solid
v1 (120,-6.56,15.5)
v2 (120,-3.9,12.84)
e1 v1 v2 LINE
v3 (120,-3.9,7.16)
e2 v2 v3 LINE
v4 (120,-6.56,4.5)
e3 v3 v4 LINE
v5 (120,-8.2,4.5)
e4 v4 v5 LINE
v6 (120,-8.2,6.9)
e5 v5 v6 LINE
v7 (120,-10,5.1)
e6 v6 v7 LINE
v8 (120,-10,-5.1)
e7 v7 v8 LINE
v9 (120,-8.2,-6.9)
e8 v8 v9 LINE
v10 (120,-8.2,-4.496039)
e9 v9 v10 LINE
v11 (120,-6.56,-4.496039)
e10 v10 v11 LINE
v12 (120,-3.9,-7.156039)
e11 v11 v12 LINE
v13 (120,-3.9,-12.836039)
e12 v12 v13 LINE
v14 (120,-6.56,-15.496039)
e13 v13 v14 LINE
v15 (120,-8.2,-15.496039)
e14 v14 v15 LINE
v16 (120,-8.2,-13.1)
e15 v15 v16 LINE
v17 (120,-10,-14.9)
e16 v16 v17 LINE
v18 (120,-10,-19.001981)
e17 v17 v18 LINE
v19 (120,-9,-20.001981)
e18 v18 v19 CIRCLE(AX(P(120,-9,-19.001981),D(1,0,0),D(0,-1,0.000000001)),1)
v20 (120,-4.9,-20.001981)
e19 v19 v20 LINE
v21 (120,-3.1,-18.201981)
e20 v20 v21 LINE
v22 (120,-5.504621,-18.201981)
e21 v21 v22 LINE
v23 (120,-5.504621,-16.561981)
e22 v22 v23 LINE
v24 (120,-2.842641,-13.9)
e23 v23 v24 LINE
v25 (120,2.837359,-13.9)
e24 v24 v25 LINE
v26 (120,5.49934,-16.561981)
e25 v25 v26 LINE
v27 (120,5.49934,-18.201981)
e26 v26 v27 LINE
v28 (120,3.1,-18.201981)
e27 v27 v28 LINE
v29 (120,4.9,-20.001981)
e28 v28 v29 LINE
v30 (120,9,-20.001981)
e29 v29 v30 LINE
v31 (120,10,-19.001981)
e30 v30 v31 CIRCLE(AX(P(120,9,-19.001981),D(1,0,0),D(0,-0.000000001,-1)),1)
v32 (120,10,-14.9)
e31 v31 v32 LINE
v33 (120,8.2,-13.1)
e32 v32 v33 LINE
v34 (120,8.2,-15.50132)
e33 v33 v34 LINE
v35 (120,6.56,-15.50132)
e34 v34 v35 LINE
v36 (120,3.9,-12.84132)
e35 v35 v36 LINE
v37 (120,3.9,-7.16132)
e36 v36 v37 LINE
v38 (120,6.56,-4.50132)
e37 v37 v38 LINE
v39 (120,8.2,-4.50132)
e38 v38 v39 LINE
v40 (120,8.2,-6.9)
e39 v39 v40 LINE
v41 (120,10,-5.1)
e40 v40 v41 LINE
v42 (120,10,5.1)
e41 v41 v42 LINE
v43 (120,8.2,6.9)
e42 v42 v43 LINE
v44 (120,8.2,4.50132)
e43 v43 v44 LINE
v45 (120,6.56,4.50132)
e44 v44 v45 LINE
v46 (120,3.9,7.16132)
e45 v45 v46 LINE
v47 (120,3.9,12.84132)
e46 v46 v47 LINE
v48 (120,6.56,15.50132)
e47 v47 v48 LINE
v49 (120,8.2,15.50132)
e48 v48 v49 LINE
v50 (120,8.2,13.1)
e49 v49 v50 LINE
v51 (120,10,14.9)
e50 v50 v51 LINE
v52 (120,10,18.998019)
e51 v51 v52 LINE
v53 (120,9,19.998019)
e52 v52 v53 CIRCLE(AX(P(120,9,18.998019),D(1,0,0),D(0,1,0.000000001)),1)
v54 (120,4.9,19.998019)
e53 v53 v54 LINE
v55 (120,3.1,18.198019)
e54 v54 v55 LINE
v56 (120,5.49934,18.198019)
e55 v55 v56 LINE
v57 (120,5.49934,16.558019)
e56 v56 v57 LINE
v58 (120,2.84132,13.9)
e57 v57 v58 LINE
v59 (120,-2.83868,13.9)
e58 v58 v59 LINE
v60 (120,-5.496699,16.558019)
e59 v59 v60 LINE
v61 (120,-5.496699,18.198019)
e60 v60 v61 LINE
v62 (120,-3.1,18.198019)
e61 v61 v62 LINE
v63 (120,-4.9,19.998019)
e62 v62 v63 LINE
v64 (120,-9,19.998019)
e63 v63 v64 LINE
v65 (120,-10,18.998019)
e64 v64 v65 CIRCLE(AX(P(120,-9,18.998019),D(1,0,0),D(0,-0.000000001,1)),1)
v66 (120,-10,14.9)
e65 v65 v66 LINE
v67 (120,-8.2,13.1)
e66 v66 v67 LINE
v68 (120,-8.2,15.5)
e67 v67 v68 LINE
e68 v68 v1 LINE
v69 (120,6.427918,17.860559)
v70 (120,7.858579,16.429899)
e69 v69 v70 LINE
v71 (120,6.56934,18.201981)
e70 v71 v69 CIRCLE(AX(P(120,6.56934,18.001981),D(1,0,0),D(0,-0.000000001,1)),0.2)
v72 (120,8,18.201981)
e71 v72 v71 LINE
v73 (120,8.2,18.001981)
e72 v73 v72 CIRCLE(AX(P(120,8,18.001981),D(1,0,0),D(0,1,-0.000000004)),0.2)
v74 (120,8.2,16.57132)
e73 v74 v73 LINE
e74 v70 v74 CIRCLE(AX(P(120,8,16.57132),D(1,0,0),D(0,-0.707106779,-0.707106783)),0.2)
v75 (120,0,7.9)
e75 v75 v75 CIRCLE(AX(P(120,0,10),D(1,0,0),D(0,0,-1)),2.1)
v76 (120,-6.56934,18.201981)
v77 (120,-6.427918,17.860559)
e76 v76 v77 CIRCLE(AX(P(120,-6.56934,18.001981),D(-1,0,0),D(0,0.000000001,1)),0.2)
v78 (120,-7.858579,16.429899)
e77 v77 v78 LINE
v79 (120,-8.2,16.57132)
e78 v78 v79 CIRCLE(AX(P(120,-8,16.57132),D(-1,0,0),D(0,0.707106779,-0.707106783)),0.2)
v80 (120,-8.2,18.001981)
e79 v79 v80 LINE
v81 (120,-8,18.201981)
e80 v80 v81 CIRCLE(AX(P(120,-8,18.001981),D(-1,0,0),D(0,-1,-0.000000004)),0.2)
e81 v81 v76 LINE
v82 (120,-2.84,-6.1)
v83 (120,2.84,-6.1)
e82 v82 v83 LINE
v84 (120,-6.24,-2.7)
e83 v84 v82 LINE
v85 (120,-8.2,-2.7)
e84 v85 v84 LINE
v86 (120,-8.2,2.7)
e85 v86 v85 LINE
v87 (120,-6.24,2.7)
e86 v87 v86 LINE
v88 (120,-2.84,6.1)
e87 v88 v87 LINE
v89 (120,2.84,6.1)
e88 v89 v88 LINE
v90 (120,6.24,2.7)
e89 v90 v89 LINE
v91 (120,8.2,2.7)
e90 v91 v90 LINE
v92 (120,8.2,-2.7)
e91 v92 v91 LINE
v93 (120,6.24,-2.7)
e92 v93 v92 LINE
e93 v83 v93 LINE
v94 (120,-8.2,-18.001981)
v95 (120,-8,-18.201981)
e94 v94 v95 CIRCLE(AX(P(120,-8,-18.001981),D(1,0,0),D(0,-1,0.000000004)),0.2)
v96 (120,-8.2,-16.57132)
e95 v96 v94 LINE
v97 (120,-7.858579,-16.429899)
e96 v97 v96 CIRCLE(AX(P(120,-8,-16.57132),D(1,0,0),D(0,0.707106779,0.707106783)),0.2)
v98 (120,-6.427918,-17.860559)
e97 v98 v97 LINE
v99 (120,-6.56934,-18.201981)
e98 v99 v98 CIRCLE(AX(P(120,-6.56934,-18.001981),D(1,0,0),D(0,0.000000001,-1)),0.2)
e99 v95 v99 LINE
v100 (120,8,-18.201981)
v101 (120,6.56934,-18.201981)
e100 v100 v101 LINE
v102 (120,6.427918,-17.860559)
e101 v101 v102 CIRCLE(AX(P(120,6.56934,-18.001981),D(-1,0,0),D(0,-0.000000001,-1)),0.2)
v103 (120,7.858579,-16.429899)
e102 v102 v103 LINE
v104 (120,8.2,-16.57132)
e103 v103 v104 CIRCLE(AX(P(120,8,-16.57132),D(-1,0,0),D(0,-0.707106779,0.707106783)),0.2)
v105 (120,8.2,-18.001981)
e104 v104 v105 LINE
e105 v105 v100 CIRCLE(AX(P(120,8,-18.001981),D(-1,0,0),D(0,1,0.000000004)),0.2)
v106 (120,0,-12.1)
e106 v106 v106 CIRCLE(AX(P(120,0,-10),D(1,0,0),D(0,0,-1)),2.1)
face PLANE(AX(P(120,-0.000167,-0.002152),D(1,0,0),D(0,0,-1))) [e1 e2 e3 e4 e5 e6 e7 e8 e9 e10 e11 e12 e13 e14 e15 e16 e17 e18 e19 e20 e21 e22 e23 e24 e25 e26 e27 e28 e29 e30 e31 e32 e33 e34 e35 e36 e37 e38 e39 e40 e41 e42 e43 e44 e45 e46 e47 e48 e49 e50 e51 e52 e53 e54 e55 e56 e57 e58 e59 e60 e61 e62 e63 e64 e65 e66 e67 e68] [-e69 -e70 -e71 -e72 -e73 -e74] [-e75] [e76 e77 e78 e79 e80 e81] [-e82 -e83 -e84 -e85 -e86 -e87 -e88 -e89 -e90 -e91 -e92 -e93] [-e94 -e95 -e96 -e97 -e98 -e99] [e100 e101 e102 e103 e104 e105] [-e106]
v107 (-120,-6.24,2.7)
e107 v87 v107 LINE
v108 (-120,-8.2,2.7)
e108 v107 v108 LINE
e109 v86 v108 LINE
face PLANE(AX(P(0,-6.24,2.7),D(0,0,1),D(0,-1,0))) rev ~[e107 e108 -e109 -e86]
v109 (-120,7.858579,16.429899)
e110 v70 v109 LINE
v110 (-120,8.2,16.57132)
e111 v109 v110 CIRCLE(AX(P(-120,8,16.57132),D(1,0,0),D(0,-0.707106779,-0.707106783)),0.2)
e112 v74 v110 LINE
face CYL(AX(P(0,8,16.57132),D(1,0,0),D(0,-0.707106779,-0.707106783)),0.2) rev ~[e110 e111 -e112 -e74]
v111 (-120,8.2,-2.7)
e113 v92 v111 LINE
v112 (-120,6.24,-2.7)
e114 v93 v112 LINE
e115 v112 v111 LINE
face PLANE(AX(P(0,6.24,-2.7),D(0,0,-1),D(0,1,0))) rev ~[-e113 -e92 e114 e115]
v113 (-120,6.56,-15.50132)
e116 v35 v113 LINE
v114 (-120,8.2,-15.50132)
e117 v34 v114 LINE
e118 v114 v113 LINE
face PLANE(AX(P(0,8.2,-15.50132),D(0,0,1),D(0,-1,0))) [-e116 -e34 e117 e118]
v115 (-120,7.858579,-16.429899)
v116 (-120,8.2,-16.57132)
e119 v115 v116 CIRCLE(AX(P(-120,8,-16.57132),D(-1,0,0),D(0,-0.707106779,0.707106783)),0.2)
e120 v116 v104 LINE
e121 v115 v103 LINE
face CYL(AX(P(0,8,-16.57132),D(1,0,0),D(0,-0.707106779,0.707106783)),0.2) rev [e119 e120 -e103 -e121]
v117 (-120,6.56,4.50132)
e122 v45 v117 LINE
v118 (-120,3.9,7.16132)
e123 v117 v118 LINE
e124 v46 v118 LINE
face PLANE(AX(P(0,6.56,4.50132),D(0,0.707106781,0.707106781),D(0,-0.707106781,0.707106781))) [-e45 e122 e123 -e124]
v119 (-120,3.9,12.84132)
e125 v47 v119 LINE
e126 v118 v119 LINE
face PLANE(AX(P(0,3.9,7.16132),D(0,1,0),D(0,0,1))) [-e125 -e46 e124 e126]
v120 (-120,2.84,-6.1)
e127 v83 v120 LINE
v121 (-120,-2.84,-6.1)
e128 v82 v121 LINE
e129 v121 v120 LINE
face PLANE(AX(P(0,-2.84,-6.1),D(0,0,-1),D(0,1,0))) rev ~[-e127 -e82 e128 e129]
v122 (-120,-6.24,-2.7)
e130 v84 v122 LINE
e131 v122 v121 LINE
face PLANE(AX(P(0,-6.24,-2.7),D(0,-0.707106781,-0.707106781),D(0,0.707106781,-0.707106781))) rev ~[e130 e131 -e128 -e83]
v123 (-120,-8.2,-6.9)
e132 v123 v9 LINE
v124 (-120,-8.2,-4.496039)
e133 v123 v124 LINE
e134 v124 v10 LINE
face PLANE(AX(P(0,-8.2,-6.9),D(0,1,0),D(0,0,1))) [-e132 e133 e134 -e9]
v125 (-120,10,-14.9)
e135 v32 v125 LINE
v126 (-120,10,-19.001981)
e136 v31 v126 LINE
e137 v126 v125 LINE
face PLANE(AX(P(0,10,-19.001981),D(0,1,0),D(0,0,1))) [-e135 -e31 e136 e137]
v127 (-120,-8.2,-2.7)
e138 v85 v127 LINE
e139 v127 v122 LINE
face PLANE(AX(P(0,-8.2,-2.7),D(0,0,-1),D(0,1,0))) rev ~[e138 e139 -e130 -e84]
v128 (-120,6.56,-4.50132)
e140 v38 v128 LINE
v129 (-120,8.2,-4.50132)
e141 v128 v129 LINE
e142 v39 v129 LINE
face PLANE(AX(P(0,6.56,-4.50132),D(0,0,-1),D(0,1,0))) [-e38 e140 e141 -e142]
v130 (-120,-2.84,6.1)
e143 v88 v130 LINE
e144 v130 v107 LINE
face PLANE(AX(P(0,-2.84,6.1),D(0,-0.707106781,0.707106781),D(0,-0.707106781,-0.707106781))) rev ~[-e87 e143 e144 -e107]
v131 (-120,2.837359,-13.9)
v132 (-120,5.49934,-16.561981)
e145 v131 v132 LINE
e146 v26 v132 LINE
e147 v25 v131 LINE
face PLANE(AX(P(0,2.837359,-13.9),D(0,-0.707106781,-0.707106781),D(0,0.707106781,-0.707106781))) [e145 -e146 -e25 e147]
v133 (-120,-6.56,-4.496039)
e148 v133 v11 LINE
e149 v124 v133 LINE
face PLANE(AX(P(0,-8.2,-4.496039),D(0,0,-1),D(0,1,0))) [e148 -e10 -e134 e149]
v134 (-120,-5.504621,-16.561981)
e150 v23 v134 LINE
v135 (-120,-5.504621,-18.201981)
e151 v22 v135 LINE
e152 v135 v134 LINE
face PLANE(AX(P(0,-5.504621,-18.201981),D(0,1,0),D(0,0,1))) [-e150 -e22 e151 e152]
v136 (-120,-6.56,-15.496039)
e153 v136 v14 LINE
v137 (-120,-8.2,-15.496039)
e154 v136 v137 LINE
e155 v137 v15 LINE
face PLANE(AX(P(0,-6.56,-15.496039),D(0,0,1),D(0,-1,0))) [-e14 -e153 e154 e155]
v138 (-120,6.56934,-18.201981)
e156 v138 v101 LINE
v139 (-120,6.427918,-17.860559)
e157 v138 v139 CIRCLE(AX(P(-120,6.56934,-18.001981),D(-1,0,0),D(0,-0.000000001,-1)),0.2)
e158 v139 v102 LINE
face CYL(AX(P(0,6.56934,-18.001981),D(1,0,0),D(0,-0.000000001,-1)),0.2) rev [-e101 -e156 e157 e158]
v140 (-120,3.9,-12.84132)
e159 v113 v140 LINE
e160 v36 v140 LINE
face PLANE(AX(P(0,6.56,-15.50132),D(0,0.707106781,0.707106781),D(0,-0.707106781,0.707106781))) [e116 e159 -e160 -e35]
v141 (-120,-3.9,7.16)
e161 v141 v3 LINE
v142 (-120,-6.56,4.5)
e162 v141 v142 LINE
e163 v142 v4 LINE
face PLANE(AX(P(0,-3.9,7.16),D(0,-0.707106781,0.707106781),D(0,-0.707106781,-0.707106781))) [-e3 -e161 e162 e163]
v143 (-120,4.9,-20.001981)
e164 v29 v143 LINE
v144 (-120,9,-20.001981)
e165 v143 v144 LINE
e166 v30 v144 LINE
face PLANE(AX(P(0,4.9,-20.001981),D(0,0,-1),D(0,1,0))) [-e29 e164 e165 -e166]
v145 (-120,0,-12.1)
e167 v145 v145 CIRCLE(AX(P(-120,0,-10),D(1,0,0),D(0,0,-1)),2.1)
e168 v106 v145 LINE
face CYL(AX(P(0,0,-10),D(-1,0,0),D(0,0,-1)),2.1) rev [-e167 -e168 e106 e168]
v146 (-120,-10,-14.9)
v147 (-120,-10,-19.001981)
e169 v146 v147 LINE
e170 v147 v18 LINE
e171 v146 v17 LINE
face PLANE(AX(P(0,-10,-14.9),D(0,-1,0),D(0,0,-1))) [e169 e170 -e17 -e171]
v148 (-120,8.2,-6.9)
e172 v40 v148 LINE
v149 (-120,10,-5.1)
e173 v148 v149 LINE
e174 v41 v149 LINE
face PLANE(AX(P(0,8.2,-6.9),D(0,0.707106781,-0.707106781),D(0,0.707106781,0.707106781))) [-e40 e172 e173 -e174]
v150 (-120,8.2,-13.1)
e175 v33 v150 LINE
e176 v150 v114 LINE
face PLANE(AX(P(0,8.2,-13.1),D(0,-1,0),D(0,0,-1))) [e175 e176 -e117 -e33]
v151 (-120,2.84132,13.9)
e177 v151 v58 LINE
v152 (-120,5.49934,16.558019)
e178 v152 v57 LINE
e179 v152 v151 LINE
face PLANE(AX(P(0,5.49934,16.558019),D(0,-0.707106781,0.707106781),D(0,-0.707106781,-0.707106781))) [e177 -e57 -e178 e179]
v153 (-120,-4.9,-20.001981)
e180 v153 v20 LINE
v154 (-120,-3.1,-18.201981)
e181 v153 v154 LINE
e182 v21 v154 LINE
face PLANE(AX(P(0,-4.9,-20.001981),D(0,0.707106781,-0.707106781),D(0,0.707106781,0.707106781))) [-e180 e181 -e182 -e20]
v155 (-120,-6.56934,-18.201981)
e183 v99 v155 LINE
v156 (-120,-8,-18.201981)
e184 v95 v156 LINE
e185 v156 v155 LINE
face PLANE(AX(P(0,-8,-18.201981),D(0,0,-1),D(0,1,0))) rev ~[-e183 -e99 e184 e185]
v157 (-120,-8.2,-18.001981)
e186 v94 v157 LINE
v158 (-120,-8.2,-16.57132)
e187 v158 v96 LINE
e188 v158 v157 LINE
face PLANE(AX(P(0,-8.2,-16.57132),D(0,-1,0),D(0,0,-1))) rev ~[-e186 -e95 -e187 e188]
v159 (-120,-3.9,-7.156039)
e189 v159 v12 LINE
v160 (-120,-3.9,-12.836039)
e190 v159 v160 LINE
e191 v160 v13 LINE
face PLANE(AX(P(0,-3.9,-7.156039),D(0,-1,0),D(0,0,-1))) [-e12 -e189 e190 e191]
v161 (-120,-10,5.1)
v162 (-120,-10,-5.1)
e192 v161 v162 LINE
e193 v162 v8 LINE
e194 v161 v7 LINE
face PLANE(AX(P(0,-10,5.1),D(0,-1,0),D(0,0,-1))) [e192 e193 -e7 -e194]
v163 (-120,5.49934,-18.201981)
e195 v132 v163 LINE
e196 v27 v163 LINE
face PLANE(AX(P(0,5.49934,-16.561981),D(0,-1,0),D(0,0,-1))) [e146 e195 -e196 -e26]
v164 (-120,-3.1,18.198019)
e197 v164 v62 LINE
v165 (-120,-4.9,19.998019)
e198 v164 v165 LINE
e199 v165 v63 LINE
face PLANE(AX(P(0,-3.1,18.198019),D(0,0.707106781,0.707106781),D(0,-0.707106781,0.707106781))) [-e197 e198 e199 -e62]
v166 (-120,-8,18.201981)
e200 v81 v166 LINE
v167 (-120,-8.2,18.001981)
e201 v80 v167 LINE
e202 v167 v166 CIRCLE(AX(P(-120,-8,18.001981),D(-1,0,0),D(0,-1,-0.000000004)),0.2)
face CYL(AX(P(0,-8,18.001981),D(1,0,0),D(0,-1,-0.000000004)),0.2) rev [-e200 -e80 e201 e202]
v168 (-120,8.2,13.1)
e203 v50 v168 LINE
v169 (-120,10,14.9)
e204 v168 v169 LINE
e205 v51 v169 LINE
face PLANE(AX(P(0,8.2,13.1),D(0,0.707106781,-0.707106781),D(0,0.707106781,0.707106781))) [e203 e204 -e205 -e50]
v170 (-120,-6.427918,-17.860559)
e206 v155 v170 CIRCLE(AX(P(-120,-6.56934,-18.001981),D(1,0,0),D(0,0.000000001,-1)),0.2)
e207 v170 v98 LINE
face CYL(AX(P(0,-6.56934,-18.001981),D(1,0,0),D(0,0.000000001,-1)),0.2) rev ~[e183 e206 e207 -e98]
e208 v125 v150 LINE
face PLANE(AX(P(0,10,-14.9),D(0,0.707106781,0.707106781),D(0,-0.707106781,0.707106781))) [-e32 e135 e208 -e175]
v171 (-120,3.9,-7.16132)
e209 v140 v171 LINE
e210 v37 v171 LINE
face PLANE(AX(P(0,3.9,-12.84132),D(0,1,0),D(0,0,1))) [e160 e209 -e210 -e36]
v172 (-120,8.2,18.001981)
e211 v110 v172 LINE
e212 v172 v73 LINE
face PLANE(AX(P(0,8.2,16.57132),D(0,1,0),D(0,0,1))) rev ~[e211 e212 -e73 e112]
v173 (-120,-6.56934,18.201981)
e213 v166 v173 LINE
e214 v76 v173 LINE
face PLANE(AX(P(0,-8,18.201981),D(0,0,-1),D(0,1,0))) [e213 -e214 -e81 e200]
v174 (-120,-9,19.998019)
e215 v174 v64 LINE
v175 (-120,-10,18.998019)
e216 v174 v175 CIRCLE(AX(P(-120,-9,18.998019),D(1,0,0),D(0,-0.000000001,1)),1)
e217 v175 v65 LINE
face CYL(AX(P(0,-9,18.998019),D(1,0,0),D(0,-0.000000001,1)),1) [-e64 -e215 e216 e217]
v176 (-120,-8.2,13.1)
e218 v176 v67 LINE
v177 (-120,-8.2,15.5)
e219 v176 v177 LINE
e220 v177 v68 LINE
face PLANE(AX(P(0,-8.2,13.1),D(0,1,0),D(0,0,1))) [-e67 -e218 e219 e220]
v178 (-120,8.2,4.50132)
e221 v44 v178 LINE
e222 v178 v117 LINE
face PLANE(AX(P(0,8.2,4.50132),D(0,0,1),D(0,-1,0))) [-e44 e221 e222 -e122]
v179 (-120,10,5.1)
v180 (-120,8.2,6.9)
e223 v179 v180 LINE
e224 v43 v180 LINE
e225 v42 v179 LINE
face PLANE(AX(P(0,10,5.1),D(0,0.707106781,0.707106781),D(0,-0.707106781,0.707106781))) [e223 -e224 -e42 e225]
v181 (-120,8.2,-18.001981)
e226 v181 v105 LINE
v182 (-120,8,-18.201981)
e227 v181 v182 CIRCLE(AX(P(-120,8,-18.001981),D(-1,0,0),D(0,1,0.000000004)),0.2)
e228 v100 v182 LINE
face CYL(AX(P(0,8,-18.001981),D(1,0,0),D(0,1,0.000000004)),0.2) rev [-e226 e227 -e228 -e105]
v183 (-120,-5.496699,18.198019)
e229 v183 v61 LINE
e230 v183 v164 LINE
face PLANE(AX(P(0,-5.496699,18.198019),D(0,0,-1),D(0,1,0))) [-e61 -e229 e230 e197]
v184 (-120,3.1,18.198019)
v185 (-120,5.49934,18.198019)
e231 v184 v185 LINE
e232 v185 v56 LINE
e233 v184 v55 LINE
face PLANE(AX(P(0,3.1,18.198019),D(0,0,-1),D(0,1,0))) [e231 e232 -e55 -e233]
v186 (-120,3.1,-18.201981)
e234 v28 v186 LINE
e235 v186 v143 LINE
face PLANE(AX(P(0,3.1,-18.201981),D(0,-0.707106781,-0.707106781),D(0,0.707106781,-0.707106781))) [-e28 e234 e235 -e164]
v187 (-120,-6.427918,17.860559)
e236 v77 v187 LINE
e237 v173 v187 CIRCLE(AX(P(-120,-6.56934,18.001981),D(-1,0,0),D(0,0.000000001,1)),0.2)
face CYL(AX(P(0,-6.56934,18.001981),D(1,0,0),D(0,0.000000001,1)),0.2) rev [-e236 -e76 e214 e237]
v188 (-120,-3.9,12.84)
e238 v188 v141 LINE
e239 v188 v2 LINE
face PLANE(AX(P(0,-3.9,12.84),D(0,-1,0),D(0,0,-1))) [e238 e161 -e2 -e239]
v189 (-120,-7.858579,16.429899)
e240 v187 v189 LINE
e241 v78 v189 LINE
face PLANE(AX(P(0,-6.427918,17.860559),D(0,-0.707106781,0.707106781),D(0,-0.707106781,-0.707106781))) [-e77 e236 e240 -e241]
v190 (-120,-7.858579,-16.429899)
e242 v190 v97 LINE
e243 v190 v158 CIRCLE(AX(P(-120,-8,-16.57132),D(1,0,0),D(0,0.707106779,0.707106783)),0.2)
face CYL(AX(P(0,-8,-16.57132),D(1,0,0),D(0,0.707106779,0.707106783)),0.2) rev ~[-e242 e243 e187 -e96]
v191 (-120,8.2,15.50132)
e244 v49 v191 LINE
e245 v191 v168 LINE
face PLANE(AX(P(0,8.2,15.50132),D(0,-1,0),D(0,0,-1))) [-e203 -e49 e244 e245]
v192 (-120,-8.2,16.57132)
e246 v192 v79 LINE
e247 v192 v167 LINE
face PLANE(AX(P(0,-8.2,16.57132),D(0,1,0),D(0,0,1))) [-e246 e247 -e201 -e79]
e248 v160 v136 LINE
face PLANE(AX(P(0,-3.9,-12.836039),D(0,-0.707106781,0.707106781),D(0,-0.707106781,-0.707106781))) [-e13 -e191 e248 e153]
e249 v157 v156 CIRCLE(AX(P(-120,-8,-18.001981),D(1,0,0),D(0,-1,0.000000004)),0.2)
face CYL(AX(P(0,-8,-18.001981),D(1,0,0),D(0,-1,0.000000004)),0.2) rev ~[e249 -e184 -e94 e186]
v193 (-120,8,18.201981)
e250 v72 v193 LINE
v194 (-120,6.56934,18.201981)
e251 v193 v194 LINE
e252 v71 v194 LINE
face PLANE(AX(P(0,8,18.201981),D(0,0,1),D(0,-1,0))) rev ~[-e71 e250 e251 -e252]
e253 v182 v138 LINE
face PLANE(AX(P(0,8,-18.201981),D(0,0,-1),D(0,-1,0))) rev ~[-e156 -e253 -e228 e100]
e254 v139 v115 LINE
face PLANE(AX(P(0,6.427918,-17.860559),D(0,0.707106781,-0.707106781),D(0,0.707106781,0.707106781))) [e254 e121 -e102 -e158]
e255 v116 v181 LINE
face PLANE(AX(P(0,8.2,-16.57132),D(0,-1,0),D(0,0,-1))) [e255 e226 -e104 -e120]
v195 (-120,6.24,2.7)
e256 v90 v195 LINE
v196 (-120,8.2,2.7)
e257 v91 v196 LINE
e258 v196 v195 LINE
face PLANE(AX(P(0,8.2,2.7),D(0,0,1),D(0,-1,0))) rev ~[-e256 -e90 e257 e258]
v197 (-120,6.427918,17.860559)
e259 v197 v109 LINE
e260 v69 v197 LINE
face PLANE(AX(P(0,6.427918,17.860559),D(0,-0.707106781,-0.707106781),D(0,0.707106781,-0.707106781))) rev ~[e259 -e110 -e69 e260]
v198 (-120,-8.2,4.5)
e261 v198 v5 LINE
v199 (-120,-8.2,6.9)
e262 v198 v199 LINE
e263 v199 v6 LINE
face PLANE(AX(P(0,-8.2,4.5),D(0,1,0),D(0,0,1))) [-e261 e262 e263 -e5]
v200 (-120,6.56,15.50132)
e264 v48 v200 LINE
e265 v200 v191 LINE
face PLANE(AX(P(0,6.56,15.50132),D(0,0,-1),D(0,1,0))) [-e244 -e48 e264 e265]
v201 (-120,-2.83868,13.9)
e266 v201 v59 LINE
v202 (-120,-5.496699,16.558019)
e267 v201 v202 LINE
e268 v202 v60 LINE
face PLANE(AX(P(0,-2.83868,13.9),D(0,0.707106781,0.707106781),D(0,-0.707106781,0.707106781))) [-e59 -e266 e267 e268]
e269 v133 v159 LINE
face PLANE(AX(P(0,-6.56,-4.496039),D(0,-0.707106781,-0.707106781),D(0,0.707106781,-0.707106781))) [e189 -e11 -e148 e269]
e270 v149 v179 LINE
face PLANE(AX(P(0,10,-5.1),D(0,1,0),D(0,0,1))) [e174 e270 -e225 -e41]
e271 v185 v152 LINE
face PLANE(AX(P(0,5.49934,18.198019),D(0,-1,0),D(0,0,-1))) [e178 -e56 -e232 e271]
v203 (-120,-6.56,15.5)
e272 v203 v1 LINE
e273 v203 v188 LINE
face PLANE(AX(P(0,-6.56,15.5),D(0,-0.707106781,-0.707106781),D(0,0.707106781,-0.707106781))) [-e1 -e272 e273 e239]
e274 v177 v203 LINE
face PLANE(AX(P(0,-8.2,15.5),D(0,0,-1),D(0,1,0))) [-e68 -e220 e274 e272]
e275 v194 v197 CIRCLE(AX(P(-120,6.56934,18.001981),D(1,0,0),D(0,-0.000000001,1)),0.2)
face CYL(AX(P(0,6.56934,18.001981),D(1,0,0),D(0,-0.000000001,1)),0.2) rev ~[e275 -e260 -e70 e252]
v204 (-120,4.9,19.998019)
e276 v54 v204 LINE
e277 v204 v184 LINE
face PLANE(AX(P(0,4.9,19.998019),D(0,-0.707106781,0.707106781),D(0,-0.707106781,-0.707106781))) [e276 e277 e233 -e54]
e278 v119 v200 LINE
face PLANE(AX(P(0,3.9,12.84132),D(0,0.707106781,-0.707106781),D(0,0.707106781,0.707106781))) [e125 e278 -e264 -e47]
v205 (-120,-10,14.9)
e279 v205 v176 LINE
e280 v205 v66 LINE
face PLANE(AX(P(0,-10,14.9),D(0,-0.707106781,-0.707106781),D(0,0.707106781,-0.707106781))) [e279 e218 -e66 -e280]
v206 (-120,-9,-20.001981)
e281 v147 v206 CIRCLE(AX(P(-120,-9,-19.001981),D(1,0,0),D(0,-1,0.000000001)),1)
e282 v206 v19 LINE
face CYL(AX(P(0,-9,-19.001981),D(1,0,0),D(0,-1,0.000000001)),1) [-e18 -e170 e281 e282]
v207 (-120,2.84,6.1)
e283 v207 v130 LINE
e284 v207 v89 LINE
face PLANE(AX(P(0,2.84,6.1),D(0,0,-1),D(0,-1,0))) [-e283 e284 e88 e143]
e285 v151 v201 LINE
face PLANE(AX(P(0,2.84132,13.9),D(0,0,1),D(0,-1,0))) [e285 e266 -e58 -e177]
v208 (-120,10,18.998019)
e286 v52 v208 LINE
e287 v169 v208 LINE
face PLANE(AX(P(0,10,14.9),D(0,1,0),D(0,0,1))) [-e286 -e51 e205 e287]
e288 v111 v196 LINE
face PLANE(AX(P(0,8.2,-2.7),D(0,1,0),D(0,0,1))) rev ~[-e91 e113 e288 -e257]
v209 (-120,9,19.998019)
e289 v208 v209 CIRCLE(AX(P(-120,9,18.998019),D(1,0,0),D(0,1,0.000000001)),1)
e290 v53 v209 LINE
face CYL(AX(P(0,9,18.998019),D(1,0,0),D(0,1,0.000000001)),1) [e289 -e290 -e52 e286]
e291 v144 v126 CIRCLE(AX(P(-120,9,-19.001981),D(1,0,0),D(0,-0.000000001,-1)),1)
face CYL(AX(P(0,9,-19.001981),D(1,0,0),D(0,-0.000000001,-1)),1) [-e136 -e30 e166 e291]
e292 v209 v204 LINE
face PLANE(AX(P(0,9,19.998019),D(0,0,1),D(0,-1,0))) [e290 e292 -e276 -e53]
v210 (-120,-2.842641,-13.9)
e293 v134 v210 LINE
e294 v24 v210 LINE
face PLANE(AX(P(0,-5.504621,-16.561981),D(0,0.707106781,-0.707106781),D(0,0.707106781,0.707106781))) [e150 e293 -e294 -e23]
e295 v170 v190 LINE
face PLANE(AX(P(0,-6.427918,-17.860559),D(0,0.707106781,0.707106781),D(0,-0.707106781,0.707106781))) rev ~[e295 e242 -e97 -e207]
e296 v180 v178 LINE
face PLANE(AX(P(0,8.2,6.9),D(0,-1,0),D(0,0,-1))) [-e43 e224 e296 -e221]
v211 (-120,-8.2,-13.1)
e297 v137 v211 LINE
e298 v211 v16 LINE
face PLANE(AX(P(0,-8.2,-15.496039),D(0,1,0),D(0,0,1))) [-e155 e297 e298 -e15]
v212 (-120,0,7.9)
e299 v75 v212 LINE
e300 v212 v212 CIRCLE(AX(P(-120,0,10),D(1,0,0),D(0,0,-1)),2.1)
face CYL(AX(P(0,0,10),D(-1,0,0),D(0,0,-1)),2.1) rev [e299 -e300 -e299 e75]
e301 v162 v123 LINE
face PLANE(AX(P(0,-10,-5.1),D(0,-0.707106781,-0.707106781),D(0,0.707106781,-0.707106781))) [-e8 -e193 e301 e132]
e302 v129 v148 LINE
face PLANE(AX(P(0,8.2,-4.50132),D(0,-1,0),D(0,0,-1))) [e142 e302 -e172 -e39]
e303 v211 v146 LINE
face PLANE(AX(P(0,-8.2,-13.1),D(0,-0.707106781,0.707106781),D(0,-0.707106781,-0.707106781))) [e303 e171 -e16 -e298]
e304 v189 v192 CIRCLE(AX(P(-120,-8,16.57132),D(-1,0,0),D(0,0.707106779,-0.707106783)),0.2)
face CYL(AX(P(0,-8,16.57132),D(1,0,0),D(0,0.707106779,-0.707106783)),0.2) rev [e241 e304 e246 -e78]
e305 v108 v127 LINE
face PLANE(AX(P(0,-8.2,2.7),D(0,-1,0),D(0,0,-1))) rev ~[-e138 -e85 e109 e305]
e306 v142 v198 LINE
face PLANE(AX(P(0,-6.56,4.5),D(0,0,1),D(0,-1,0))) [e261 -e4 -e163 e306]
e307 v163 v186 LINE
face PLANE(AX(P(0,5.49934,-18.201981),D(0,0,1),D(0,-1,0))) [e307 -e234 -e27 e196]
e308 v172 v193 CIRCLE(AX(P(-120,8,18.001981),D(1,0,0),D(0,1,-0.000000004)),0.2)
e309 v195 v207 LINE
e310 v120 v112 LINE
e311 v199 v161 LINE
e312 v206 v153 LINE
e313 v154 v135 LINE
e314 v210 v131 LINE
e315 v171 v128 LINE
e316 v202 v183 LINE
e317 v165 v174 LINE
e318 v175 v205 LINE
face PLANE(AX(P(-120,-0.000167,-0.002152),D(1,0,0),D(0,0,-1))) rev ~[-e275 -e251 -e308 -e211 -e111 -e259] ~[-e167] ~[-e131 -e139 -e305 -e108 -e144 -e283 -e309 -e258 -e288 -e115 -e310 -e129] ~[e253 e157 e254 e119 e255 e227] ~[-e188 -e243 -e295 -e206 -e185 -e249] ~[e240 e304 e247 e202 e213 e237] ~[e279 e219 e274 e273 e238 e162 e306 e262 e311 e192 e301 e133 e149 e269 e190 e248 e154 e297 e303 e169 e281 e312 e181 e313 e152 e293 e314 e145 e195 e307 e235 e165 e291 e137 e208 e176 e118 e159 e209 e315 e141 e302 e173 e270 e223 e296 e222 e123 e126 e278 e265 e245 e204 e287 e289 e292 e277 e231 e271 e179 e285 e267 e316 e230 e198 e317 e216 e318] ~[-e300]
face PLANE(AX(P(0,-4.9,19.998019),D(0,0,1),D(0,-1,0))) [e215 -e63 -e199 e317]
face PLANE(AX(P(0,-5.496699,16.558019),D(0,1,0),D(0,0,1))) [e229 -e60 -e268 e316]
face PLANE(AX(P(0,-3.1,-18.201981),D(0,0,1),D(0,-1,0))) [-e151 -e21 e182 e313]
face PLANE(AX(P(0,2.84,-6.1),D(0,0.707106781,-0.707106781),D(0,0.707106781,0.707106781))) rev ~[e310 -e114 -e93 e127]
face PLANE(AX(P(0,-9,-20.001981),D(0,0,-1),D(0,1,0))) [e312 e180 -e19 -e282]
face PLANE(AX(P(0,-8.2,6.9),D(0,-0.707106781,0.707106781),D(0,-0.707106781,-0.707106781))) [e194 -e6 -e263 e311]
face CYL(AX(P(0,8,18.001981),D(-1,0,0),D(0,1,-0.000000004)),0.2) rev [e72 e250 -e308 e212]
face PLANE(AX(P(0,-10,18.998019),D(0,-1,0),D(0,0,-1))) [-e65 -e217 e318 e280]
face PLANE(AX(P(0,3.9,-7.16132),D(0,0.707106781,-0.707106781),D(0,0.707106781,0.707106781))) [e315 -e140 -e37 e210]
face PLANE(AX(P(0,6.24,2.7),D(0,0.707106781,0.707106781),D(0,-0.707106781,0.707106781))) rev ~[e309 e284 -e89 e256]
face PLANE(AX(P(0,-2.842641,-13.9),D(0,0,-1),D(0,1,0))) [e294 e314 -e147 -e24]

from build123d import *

# Parameters (mm, degrees)
SKETCH5_R           = 2.1
BOSS_EXTRUDE1_DEPTH = 120


with BuildPart() as part:
    # Sketch5 → Boss-Extrude1 (new body, symmetric)
    with BuildSketch(Plane(origin=(0, 0, 0), x_dir=(0, 0, -1), z_dir=(1, 0, 0))):
        with BuildLine():
            Line((-19.998019485, 4.9), (-18.198019485, 3.1))
            Line((-18.198019485, 3.1), (-18.198019485, 5.499339828))
            Line((-18.198019485, 5.499339828), (-16.558019485, 5.499339828))
            Line((-16.558019485, 5.499339828), (-13.9, 2.841320344))
            Line((-13.9, 2.841320344), (-13.9, -2.838679656))
            Line((-13.9, -2.838679656), (-16.558019485, -5.496699141))
            Line((-16.558019485, -5.496699141), (-18.198019485, -5.496699141))
            Line((-18.198019485, -5.496699141), (-18.198019485, -3.1))
            Line((-18.198019485, -3.1), (-19.998019485, -4.9))
            Line((-19.998019485, -4.9), (-19.998019485, -9))
            ThreePointArc((-19.998019485, -9), (-19.705126266, -9.707106781), (-18.998019485, -10))
            Line((-18.998019485, -10), (-14.9, -10))
            Line((-14.9, -10), (-13.1, -8.2))
            Line((-13.1, -8.2), (-15.5, -8.2))
            Line((-15.5, -8.2), (-15.5, -6.56))
            Line((-15.5, -6.56), (-12.84, -3.9))
            Line((-12.84, -3.9), (-7.16, -3.9))
            Line((-7.16, -3.9), (-4.5, -6.56))
            Line((-4.5, -6.56), (-4.5, -8.2))
            Line((-4.5, -8.2), (-6.9, -8.2))
            Line((-6.9, -8.2), (-5.1, -10))
            Line((-5.1, -10), (5.1, -10))
            Line((5.1, -10), (6.9, -8.2))
            Line((6.9, -8.2), (4.496038969, -8.2))
            Line((4.496038969, -8.2), (4.496038969, -6.56))
            Line((4.496038969, -6.56), (7.156038969, -3.9))
            Line((7.156038969, -3.9), (12.836038969, -3.9))
            Line((12.836038969, -3.9), (15.496038969, -6.56))
            Line((15.496038969, -6.56), (15.496038969, -8.2))
            Line((15.496038969, -8.2), (13.1, -8.2))
            Line((13.1, -8.2), (14.9, -10))
            Line((14.9, -10), (19.001980515, -10))
            ThreePointArc((19.001980515, -10), (19.709087297, -9.707106781), (20.001980515, -9))
            Line((20.001980515, -9), (20.001980515, -4.9))
            Line((20.001980515, -4.9), (18.201980515, -3.1))
            Line((18.201980515, -3.1), (18.201980515, -5.504621202))
            Line((18.201980515, -5.504621202), (16.561980515, -5.504621202))
            Line((16.561980515, -5.504621202), (13.9, -2.842640687))
            Line((13.9, -2.842640687), (13.9, 2.837359313))
            Line((13.9, 2.837359313), (16.561980515, 5.499339828))
            Line((16.561980515, 5.499339828), (18.201980515, 5.499339828))
            Line((18.201980515, 5.499339828), (18.201980515, 3.1))
            Line((18.201980515, 3.1), (20.001980515, 4.9))
            Line((20.001980515, 4.9), (20.001980515, 9))
            ThreePointArc((20.001980515, 9), (19.709087297, 9.707106781), (19.001980515, 10))
            Line((19.001980515, 10), (14.9, 10))
            Line((14.9, 10), (13.1, 8.2))
            Line((13.1, 8.2), (15.501320344, 8.2))
            Line((15.501320344, 8.2), (15.501320344, 6.56))
            Line((15.501320344, 6.56), (12.841320344, 3.9))
            Line((12.841320344, 3.9), (7.161320344, 3.9))
            Line((7.161320344, 3.9), (4.501320344, 6.56))
            Line((4.501320344, 6.56), (4.501320344, 8.2))
            Line((4.501320344, 8.2), (6.9, 8.2))
            Line((6.9, 8.2), (5.1, 10))
            Line((5.1, 10), (-5.1, 10))
            Line((-5.1, 10), (-6.9, 8.2))
            Line((-6.9, 8.2), (-4.501320344, 8.2))
            Line((-4.501320344, 8.2), (-4.501320344, 6.56))
            Line((-4.501320344, 6.56), (-7.161320344, 3.9))
            Line((-7.161320344, 3.9), (-12.841320344, 3.9))
            Line((-12.841320344, 3.9), (-15.501320344, 6.56))
            Line((-15.501320344, 6.56), (-15.501320344, 8.2))
            Line((-15.501320344, 8.2), (-13.1, 8.2))
            Line((-13.1, 8.2), (-14.9, 10))
            Line((-14.9, 10), (-18.998019485, 10))
            ThreePointArc((-18.998019485, 10), (-19.705126266, 9.707106781), (-19.998019485, 9))
            Line((-19.998019485, 9), (-19.998019485, 4.9))
        make_face()
        with Locations((-10, 0)):
            Circle(SKETCH5_R, mode=Mode.SUBTRACT)
        with Locations((10, 0)):
            Circle(SKETCH5_R, mode=Mode.SUBTRACT)
        Polygon((6.1, -2.84), (6.1, 2.84), (2.7, 6.24), (2.7, 8.2), (-2.7, 8.2), (-2.7, 6.24), (-6.1, 2.84), (-6.1, -2.84), (-2.7, -6.24), (-2.7, -8.2), (2.7, -8.2), (2.7, -6.24), align=None, mode=Mode.SUBTRACT)
        with BuildLine():
            Line((16.571320344, 8.2), (18.001980515, 8.2))
            ThreePointArc((18.001980515, 8.2), (18.143401872, 8.141421356), (18.201980515, 8))
            Line((18.201980515, 8), (18.201980515, 6.569339828))
            ThreePointArc((18.201980515, 6.569339828), (18.078517202, 6.384563922), (17.860559159, 6.427918472))
            Line((17.860559159, 6.427918472), (16.429898987, 7.858578644))
            ThreePointArc((16.429898987, 7.858578644), (16.386544437, 8.076536686), (16.571320344, 8.2))
        make_face(mode=Mode.SUBTRACT)
        with BuildLine():
            Line((16.571320344, -8.2), (18.001980515, -8.2))
            ThreePointArc((18.001980515, -8.2), (18.143401872, -8.141421356), (18.201980515, -8))
            Line((18.201980515, -8), (18.201980515, -6.569339828))
            ThreePointArc((18.201980515, -6.569339828), (18.078517202, -6.384563922), (17.860559159, -6.427918472))
            Line((17.860559159, -6.427918472), (16.429898987, -7.858578644))
            ThreePointArc((16.429898987, -7.858578644), (16.386544437, -8.076536686), (16.571320344, -8.2))
        make_face(mode=Mode.SUBTRACT)
        with BuildLine():
            Line((-17.860559159, 6.427918472), (-16.429898987, 7.858578644))
            ThreePointArc((-16.429898987, 7.858578644), (-16.386544437, 8.076536686), (-16.571320344, 8.2))
            Line((-16.571320344, 8.2), (-18.001980515, 8.2))
            ThreePointArc((-18.001980515, 8.2), (-18.143401872, 8.141421356), (-18.201980515, 8))
            Line((-18.201980515, 8), (-18.201980515, 6.569339828))
            ThreePointArc((-18.201980515, 6.569339828), (-18.078517202, 6.384563922), (-17.860559159, 6.427918472))
        make_face(mode=Mode.SUBTRACT)
        with BuildLine():
            Line((-16.571320344, -8.2), (-18.001980515, -8.2))
            ThreePointArc((-18.001980515, -8.2), (-18.143401872, -8.141421356), (-18.201980515, -8))
            Line((-18.201980515, -8), (-18.201980515, -6.569339828))
            ThreePointArc((-18.201980515, -6.569339828), (-18.078517202, -6.384563922), (-17.860559159, -6.427918472))
            Line((-17.860559159, -6.427918472), (-16.429898987, -7.858578644))
            ThreePointArc((-16.429898987, -7.858578644), (-16.386544437, -8.076536686), (-16.571320344, -8.2))
        make_face(mode=Mode.SUBTRACT)
    extrude(amount=BOSS_EXTRUDE1_DEPTH, both=True)


solid = part.part
